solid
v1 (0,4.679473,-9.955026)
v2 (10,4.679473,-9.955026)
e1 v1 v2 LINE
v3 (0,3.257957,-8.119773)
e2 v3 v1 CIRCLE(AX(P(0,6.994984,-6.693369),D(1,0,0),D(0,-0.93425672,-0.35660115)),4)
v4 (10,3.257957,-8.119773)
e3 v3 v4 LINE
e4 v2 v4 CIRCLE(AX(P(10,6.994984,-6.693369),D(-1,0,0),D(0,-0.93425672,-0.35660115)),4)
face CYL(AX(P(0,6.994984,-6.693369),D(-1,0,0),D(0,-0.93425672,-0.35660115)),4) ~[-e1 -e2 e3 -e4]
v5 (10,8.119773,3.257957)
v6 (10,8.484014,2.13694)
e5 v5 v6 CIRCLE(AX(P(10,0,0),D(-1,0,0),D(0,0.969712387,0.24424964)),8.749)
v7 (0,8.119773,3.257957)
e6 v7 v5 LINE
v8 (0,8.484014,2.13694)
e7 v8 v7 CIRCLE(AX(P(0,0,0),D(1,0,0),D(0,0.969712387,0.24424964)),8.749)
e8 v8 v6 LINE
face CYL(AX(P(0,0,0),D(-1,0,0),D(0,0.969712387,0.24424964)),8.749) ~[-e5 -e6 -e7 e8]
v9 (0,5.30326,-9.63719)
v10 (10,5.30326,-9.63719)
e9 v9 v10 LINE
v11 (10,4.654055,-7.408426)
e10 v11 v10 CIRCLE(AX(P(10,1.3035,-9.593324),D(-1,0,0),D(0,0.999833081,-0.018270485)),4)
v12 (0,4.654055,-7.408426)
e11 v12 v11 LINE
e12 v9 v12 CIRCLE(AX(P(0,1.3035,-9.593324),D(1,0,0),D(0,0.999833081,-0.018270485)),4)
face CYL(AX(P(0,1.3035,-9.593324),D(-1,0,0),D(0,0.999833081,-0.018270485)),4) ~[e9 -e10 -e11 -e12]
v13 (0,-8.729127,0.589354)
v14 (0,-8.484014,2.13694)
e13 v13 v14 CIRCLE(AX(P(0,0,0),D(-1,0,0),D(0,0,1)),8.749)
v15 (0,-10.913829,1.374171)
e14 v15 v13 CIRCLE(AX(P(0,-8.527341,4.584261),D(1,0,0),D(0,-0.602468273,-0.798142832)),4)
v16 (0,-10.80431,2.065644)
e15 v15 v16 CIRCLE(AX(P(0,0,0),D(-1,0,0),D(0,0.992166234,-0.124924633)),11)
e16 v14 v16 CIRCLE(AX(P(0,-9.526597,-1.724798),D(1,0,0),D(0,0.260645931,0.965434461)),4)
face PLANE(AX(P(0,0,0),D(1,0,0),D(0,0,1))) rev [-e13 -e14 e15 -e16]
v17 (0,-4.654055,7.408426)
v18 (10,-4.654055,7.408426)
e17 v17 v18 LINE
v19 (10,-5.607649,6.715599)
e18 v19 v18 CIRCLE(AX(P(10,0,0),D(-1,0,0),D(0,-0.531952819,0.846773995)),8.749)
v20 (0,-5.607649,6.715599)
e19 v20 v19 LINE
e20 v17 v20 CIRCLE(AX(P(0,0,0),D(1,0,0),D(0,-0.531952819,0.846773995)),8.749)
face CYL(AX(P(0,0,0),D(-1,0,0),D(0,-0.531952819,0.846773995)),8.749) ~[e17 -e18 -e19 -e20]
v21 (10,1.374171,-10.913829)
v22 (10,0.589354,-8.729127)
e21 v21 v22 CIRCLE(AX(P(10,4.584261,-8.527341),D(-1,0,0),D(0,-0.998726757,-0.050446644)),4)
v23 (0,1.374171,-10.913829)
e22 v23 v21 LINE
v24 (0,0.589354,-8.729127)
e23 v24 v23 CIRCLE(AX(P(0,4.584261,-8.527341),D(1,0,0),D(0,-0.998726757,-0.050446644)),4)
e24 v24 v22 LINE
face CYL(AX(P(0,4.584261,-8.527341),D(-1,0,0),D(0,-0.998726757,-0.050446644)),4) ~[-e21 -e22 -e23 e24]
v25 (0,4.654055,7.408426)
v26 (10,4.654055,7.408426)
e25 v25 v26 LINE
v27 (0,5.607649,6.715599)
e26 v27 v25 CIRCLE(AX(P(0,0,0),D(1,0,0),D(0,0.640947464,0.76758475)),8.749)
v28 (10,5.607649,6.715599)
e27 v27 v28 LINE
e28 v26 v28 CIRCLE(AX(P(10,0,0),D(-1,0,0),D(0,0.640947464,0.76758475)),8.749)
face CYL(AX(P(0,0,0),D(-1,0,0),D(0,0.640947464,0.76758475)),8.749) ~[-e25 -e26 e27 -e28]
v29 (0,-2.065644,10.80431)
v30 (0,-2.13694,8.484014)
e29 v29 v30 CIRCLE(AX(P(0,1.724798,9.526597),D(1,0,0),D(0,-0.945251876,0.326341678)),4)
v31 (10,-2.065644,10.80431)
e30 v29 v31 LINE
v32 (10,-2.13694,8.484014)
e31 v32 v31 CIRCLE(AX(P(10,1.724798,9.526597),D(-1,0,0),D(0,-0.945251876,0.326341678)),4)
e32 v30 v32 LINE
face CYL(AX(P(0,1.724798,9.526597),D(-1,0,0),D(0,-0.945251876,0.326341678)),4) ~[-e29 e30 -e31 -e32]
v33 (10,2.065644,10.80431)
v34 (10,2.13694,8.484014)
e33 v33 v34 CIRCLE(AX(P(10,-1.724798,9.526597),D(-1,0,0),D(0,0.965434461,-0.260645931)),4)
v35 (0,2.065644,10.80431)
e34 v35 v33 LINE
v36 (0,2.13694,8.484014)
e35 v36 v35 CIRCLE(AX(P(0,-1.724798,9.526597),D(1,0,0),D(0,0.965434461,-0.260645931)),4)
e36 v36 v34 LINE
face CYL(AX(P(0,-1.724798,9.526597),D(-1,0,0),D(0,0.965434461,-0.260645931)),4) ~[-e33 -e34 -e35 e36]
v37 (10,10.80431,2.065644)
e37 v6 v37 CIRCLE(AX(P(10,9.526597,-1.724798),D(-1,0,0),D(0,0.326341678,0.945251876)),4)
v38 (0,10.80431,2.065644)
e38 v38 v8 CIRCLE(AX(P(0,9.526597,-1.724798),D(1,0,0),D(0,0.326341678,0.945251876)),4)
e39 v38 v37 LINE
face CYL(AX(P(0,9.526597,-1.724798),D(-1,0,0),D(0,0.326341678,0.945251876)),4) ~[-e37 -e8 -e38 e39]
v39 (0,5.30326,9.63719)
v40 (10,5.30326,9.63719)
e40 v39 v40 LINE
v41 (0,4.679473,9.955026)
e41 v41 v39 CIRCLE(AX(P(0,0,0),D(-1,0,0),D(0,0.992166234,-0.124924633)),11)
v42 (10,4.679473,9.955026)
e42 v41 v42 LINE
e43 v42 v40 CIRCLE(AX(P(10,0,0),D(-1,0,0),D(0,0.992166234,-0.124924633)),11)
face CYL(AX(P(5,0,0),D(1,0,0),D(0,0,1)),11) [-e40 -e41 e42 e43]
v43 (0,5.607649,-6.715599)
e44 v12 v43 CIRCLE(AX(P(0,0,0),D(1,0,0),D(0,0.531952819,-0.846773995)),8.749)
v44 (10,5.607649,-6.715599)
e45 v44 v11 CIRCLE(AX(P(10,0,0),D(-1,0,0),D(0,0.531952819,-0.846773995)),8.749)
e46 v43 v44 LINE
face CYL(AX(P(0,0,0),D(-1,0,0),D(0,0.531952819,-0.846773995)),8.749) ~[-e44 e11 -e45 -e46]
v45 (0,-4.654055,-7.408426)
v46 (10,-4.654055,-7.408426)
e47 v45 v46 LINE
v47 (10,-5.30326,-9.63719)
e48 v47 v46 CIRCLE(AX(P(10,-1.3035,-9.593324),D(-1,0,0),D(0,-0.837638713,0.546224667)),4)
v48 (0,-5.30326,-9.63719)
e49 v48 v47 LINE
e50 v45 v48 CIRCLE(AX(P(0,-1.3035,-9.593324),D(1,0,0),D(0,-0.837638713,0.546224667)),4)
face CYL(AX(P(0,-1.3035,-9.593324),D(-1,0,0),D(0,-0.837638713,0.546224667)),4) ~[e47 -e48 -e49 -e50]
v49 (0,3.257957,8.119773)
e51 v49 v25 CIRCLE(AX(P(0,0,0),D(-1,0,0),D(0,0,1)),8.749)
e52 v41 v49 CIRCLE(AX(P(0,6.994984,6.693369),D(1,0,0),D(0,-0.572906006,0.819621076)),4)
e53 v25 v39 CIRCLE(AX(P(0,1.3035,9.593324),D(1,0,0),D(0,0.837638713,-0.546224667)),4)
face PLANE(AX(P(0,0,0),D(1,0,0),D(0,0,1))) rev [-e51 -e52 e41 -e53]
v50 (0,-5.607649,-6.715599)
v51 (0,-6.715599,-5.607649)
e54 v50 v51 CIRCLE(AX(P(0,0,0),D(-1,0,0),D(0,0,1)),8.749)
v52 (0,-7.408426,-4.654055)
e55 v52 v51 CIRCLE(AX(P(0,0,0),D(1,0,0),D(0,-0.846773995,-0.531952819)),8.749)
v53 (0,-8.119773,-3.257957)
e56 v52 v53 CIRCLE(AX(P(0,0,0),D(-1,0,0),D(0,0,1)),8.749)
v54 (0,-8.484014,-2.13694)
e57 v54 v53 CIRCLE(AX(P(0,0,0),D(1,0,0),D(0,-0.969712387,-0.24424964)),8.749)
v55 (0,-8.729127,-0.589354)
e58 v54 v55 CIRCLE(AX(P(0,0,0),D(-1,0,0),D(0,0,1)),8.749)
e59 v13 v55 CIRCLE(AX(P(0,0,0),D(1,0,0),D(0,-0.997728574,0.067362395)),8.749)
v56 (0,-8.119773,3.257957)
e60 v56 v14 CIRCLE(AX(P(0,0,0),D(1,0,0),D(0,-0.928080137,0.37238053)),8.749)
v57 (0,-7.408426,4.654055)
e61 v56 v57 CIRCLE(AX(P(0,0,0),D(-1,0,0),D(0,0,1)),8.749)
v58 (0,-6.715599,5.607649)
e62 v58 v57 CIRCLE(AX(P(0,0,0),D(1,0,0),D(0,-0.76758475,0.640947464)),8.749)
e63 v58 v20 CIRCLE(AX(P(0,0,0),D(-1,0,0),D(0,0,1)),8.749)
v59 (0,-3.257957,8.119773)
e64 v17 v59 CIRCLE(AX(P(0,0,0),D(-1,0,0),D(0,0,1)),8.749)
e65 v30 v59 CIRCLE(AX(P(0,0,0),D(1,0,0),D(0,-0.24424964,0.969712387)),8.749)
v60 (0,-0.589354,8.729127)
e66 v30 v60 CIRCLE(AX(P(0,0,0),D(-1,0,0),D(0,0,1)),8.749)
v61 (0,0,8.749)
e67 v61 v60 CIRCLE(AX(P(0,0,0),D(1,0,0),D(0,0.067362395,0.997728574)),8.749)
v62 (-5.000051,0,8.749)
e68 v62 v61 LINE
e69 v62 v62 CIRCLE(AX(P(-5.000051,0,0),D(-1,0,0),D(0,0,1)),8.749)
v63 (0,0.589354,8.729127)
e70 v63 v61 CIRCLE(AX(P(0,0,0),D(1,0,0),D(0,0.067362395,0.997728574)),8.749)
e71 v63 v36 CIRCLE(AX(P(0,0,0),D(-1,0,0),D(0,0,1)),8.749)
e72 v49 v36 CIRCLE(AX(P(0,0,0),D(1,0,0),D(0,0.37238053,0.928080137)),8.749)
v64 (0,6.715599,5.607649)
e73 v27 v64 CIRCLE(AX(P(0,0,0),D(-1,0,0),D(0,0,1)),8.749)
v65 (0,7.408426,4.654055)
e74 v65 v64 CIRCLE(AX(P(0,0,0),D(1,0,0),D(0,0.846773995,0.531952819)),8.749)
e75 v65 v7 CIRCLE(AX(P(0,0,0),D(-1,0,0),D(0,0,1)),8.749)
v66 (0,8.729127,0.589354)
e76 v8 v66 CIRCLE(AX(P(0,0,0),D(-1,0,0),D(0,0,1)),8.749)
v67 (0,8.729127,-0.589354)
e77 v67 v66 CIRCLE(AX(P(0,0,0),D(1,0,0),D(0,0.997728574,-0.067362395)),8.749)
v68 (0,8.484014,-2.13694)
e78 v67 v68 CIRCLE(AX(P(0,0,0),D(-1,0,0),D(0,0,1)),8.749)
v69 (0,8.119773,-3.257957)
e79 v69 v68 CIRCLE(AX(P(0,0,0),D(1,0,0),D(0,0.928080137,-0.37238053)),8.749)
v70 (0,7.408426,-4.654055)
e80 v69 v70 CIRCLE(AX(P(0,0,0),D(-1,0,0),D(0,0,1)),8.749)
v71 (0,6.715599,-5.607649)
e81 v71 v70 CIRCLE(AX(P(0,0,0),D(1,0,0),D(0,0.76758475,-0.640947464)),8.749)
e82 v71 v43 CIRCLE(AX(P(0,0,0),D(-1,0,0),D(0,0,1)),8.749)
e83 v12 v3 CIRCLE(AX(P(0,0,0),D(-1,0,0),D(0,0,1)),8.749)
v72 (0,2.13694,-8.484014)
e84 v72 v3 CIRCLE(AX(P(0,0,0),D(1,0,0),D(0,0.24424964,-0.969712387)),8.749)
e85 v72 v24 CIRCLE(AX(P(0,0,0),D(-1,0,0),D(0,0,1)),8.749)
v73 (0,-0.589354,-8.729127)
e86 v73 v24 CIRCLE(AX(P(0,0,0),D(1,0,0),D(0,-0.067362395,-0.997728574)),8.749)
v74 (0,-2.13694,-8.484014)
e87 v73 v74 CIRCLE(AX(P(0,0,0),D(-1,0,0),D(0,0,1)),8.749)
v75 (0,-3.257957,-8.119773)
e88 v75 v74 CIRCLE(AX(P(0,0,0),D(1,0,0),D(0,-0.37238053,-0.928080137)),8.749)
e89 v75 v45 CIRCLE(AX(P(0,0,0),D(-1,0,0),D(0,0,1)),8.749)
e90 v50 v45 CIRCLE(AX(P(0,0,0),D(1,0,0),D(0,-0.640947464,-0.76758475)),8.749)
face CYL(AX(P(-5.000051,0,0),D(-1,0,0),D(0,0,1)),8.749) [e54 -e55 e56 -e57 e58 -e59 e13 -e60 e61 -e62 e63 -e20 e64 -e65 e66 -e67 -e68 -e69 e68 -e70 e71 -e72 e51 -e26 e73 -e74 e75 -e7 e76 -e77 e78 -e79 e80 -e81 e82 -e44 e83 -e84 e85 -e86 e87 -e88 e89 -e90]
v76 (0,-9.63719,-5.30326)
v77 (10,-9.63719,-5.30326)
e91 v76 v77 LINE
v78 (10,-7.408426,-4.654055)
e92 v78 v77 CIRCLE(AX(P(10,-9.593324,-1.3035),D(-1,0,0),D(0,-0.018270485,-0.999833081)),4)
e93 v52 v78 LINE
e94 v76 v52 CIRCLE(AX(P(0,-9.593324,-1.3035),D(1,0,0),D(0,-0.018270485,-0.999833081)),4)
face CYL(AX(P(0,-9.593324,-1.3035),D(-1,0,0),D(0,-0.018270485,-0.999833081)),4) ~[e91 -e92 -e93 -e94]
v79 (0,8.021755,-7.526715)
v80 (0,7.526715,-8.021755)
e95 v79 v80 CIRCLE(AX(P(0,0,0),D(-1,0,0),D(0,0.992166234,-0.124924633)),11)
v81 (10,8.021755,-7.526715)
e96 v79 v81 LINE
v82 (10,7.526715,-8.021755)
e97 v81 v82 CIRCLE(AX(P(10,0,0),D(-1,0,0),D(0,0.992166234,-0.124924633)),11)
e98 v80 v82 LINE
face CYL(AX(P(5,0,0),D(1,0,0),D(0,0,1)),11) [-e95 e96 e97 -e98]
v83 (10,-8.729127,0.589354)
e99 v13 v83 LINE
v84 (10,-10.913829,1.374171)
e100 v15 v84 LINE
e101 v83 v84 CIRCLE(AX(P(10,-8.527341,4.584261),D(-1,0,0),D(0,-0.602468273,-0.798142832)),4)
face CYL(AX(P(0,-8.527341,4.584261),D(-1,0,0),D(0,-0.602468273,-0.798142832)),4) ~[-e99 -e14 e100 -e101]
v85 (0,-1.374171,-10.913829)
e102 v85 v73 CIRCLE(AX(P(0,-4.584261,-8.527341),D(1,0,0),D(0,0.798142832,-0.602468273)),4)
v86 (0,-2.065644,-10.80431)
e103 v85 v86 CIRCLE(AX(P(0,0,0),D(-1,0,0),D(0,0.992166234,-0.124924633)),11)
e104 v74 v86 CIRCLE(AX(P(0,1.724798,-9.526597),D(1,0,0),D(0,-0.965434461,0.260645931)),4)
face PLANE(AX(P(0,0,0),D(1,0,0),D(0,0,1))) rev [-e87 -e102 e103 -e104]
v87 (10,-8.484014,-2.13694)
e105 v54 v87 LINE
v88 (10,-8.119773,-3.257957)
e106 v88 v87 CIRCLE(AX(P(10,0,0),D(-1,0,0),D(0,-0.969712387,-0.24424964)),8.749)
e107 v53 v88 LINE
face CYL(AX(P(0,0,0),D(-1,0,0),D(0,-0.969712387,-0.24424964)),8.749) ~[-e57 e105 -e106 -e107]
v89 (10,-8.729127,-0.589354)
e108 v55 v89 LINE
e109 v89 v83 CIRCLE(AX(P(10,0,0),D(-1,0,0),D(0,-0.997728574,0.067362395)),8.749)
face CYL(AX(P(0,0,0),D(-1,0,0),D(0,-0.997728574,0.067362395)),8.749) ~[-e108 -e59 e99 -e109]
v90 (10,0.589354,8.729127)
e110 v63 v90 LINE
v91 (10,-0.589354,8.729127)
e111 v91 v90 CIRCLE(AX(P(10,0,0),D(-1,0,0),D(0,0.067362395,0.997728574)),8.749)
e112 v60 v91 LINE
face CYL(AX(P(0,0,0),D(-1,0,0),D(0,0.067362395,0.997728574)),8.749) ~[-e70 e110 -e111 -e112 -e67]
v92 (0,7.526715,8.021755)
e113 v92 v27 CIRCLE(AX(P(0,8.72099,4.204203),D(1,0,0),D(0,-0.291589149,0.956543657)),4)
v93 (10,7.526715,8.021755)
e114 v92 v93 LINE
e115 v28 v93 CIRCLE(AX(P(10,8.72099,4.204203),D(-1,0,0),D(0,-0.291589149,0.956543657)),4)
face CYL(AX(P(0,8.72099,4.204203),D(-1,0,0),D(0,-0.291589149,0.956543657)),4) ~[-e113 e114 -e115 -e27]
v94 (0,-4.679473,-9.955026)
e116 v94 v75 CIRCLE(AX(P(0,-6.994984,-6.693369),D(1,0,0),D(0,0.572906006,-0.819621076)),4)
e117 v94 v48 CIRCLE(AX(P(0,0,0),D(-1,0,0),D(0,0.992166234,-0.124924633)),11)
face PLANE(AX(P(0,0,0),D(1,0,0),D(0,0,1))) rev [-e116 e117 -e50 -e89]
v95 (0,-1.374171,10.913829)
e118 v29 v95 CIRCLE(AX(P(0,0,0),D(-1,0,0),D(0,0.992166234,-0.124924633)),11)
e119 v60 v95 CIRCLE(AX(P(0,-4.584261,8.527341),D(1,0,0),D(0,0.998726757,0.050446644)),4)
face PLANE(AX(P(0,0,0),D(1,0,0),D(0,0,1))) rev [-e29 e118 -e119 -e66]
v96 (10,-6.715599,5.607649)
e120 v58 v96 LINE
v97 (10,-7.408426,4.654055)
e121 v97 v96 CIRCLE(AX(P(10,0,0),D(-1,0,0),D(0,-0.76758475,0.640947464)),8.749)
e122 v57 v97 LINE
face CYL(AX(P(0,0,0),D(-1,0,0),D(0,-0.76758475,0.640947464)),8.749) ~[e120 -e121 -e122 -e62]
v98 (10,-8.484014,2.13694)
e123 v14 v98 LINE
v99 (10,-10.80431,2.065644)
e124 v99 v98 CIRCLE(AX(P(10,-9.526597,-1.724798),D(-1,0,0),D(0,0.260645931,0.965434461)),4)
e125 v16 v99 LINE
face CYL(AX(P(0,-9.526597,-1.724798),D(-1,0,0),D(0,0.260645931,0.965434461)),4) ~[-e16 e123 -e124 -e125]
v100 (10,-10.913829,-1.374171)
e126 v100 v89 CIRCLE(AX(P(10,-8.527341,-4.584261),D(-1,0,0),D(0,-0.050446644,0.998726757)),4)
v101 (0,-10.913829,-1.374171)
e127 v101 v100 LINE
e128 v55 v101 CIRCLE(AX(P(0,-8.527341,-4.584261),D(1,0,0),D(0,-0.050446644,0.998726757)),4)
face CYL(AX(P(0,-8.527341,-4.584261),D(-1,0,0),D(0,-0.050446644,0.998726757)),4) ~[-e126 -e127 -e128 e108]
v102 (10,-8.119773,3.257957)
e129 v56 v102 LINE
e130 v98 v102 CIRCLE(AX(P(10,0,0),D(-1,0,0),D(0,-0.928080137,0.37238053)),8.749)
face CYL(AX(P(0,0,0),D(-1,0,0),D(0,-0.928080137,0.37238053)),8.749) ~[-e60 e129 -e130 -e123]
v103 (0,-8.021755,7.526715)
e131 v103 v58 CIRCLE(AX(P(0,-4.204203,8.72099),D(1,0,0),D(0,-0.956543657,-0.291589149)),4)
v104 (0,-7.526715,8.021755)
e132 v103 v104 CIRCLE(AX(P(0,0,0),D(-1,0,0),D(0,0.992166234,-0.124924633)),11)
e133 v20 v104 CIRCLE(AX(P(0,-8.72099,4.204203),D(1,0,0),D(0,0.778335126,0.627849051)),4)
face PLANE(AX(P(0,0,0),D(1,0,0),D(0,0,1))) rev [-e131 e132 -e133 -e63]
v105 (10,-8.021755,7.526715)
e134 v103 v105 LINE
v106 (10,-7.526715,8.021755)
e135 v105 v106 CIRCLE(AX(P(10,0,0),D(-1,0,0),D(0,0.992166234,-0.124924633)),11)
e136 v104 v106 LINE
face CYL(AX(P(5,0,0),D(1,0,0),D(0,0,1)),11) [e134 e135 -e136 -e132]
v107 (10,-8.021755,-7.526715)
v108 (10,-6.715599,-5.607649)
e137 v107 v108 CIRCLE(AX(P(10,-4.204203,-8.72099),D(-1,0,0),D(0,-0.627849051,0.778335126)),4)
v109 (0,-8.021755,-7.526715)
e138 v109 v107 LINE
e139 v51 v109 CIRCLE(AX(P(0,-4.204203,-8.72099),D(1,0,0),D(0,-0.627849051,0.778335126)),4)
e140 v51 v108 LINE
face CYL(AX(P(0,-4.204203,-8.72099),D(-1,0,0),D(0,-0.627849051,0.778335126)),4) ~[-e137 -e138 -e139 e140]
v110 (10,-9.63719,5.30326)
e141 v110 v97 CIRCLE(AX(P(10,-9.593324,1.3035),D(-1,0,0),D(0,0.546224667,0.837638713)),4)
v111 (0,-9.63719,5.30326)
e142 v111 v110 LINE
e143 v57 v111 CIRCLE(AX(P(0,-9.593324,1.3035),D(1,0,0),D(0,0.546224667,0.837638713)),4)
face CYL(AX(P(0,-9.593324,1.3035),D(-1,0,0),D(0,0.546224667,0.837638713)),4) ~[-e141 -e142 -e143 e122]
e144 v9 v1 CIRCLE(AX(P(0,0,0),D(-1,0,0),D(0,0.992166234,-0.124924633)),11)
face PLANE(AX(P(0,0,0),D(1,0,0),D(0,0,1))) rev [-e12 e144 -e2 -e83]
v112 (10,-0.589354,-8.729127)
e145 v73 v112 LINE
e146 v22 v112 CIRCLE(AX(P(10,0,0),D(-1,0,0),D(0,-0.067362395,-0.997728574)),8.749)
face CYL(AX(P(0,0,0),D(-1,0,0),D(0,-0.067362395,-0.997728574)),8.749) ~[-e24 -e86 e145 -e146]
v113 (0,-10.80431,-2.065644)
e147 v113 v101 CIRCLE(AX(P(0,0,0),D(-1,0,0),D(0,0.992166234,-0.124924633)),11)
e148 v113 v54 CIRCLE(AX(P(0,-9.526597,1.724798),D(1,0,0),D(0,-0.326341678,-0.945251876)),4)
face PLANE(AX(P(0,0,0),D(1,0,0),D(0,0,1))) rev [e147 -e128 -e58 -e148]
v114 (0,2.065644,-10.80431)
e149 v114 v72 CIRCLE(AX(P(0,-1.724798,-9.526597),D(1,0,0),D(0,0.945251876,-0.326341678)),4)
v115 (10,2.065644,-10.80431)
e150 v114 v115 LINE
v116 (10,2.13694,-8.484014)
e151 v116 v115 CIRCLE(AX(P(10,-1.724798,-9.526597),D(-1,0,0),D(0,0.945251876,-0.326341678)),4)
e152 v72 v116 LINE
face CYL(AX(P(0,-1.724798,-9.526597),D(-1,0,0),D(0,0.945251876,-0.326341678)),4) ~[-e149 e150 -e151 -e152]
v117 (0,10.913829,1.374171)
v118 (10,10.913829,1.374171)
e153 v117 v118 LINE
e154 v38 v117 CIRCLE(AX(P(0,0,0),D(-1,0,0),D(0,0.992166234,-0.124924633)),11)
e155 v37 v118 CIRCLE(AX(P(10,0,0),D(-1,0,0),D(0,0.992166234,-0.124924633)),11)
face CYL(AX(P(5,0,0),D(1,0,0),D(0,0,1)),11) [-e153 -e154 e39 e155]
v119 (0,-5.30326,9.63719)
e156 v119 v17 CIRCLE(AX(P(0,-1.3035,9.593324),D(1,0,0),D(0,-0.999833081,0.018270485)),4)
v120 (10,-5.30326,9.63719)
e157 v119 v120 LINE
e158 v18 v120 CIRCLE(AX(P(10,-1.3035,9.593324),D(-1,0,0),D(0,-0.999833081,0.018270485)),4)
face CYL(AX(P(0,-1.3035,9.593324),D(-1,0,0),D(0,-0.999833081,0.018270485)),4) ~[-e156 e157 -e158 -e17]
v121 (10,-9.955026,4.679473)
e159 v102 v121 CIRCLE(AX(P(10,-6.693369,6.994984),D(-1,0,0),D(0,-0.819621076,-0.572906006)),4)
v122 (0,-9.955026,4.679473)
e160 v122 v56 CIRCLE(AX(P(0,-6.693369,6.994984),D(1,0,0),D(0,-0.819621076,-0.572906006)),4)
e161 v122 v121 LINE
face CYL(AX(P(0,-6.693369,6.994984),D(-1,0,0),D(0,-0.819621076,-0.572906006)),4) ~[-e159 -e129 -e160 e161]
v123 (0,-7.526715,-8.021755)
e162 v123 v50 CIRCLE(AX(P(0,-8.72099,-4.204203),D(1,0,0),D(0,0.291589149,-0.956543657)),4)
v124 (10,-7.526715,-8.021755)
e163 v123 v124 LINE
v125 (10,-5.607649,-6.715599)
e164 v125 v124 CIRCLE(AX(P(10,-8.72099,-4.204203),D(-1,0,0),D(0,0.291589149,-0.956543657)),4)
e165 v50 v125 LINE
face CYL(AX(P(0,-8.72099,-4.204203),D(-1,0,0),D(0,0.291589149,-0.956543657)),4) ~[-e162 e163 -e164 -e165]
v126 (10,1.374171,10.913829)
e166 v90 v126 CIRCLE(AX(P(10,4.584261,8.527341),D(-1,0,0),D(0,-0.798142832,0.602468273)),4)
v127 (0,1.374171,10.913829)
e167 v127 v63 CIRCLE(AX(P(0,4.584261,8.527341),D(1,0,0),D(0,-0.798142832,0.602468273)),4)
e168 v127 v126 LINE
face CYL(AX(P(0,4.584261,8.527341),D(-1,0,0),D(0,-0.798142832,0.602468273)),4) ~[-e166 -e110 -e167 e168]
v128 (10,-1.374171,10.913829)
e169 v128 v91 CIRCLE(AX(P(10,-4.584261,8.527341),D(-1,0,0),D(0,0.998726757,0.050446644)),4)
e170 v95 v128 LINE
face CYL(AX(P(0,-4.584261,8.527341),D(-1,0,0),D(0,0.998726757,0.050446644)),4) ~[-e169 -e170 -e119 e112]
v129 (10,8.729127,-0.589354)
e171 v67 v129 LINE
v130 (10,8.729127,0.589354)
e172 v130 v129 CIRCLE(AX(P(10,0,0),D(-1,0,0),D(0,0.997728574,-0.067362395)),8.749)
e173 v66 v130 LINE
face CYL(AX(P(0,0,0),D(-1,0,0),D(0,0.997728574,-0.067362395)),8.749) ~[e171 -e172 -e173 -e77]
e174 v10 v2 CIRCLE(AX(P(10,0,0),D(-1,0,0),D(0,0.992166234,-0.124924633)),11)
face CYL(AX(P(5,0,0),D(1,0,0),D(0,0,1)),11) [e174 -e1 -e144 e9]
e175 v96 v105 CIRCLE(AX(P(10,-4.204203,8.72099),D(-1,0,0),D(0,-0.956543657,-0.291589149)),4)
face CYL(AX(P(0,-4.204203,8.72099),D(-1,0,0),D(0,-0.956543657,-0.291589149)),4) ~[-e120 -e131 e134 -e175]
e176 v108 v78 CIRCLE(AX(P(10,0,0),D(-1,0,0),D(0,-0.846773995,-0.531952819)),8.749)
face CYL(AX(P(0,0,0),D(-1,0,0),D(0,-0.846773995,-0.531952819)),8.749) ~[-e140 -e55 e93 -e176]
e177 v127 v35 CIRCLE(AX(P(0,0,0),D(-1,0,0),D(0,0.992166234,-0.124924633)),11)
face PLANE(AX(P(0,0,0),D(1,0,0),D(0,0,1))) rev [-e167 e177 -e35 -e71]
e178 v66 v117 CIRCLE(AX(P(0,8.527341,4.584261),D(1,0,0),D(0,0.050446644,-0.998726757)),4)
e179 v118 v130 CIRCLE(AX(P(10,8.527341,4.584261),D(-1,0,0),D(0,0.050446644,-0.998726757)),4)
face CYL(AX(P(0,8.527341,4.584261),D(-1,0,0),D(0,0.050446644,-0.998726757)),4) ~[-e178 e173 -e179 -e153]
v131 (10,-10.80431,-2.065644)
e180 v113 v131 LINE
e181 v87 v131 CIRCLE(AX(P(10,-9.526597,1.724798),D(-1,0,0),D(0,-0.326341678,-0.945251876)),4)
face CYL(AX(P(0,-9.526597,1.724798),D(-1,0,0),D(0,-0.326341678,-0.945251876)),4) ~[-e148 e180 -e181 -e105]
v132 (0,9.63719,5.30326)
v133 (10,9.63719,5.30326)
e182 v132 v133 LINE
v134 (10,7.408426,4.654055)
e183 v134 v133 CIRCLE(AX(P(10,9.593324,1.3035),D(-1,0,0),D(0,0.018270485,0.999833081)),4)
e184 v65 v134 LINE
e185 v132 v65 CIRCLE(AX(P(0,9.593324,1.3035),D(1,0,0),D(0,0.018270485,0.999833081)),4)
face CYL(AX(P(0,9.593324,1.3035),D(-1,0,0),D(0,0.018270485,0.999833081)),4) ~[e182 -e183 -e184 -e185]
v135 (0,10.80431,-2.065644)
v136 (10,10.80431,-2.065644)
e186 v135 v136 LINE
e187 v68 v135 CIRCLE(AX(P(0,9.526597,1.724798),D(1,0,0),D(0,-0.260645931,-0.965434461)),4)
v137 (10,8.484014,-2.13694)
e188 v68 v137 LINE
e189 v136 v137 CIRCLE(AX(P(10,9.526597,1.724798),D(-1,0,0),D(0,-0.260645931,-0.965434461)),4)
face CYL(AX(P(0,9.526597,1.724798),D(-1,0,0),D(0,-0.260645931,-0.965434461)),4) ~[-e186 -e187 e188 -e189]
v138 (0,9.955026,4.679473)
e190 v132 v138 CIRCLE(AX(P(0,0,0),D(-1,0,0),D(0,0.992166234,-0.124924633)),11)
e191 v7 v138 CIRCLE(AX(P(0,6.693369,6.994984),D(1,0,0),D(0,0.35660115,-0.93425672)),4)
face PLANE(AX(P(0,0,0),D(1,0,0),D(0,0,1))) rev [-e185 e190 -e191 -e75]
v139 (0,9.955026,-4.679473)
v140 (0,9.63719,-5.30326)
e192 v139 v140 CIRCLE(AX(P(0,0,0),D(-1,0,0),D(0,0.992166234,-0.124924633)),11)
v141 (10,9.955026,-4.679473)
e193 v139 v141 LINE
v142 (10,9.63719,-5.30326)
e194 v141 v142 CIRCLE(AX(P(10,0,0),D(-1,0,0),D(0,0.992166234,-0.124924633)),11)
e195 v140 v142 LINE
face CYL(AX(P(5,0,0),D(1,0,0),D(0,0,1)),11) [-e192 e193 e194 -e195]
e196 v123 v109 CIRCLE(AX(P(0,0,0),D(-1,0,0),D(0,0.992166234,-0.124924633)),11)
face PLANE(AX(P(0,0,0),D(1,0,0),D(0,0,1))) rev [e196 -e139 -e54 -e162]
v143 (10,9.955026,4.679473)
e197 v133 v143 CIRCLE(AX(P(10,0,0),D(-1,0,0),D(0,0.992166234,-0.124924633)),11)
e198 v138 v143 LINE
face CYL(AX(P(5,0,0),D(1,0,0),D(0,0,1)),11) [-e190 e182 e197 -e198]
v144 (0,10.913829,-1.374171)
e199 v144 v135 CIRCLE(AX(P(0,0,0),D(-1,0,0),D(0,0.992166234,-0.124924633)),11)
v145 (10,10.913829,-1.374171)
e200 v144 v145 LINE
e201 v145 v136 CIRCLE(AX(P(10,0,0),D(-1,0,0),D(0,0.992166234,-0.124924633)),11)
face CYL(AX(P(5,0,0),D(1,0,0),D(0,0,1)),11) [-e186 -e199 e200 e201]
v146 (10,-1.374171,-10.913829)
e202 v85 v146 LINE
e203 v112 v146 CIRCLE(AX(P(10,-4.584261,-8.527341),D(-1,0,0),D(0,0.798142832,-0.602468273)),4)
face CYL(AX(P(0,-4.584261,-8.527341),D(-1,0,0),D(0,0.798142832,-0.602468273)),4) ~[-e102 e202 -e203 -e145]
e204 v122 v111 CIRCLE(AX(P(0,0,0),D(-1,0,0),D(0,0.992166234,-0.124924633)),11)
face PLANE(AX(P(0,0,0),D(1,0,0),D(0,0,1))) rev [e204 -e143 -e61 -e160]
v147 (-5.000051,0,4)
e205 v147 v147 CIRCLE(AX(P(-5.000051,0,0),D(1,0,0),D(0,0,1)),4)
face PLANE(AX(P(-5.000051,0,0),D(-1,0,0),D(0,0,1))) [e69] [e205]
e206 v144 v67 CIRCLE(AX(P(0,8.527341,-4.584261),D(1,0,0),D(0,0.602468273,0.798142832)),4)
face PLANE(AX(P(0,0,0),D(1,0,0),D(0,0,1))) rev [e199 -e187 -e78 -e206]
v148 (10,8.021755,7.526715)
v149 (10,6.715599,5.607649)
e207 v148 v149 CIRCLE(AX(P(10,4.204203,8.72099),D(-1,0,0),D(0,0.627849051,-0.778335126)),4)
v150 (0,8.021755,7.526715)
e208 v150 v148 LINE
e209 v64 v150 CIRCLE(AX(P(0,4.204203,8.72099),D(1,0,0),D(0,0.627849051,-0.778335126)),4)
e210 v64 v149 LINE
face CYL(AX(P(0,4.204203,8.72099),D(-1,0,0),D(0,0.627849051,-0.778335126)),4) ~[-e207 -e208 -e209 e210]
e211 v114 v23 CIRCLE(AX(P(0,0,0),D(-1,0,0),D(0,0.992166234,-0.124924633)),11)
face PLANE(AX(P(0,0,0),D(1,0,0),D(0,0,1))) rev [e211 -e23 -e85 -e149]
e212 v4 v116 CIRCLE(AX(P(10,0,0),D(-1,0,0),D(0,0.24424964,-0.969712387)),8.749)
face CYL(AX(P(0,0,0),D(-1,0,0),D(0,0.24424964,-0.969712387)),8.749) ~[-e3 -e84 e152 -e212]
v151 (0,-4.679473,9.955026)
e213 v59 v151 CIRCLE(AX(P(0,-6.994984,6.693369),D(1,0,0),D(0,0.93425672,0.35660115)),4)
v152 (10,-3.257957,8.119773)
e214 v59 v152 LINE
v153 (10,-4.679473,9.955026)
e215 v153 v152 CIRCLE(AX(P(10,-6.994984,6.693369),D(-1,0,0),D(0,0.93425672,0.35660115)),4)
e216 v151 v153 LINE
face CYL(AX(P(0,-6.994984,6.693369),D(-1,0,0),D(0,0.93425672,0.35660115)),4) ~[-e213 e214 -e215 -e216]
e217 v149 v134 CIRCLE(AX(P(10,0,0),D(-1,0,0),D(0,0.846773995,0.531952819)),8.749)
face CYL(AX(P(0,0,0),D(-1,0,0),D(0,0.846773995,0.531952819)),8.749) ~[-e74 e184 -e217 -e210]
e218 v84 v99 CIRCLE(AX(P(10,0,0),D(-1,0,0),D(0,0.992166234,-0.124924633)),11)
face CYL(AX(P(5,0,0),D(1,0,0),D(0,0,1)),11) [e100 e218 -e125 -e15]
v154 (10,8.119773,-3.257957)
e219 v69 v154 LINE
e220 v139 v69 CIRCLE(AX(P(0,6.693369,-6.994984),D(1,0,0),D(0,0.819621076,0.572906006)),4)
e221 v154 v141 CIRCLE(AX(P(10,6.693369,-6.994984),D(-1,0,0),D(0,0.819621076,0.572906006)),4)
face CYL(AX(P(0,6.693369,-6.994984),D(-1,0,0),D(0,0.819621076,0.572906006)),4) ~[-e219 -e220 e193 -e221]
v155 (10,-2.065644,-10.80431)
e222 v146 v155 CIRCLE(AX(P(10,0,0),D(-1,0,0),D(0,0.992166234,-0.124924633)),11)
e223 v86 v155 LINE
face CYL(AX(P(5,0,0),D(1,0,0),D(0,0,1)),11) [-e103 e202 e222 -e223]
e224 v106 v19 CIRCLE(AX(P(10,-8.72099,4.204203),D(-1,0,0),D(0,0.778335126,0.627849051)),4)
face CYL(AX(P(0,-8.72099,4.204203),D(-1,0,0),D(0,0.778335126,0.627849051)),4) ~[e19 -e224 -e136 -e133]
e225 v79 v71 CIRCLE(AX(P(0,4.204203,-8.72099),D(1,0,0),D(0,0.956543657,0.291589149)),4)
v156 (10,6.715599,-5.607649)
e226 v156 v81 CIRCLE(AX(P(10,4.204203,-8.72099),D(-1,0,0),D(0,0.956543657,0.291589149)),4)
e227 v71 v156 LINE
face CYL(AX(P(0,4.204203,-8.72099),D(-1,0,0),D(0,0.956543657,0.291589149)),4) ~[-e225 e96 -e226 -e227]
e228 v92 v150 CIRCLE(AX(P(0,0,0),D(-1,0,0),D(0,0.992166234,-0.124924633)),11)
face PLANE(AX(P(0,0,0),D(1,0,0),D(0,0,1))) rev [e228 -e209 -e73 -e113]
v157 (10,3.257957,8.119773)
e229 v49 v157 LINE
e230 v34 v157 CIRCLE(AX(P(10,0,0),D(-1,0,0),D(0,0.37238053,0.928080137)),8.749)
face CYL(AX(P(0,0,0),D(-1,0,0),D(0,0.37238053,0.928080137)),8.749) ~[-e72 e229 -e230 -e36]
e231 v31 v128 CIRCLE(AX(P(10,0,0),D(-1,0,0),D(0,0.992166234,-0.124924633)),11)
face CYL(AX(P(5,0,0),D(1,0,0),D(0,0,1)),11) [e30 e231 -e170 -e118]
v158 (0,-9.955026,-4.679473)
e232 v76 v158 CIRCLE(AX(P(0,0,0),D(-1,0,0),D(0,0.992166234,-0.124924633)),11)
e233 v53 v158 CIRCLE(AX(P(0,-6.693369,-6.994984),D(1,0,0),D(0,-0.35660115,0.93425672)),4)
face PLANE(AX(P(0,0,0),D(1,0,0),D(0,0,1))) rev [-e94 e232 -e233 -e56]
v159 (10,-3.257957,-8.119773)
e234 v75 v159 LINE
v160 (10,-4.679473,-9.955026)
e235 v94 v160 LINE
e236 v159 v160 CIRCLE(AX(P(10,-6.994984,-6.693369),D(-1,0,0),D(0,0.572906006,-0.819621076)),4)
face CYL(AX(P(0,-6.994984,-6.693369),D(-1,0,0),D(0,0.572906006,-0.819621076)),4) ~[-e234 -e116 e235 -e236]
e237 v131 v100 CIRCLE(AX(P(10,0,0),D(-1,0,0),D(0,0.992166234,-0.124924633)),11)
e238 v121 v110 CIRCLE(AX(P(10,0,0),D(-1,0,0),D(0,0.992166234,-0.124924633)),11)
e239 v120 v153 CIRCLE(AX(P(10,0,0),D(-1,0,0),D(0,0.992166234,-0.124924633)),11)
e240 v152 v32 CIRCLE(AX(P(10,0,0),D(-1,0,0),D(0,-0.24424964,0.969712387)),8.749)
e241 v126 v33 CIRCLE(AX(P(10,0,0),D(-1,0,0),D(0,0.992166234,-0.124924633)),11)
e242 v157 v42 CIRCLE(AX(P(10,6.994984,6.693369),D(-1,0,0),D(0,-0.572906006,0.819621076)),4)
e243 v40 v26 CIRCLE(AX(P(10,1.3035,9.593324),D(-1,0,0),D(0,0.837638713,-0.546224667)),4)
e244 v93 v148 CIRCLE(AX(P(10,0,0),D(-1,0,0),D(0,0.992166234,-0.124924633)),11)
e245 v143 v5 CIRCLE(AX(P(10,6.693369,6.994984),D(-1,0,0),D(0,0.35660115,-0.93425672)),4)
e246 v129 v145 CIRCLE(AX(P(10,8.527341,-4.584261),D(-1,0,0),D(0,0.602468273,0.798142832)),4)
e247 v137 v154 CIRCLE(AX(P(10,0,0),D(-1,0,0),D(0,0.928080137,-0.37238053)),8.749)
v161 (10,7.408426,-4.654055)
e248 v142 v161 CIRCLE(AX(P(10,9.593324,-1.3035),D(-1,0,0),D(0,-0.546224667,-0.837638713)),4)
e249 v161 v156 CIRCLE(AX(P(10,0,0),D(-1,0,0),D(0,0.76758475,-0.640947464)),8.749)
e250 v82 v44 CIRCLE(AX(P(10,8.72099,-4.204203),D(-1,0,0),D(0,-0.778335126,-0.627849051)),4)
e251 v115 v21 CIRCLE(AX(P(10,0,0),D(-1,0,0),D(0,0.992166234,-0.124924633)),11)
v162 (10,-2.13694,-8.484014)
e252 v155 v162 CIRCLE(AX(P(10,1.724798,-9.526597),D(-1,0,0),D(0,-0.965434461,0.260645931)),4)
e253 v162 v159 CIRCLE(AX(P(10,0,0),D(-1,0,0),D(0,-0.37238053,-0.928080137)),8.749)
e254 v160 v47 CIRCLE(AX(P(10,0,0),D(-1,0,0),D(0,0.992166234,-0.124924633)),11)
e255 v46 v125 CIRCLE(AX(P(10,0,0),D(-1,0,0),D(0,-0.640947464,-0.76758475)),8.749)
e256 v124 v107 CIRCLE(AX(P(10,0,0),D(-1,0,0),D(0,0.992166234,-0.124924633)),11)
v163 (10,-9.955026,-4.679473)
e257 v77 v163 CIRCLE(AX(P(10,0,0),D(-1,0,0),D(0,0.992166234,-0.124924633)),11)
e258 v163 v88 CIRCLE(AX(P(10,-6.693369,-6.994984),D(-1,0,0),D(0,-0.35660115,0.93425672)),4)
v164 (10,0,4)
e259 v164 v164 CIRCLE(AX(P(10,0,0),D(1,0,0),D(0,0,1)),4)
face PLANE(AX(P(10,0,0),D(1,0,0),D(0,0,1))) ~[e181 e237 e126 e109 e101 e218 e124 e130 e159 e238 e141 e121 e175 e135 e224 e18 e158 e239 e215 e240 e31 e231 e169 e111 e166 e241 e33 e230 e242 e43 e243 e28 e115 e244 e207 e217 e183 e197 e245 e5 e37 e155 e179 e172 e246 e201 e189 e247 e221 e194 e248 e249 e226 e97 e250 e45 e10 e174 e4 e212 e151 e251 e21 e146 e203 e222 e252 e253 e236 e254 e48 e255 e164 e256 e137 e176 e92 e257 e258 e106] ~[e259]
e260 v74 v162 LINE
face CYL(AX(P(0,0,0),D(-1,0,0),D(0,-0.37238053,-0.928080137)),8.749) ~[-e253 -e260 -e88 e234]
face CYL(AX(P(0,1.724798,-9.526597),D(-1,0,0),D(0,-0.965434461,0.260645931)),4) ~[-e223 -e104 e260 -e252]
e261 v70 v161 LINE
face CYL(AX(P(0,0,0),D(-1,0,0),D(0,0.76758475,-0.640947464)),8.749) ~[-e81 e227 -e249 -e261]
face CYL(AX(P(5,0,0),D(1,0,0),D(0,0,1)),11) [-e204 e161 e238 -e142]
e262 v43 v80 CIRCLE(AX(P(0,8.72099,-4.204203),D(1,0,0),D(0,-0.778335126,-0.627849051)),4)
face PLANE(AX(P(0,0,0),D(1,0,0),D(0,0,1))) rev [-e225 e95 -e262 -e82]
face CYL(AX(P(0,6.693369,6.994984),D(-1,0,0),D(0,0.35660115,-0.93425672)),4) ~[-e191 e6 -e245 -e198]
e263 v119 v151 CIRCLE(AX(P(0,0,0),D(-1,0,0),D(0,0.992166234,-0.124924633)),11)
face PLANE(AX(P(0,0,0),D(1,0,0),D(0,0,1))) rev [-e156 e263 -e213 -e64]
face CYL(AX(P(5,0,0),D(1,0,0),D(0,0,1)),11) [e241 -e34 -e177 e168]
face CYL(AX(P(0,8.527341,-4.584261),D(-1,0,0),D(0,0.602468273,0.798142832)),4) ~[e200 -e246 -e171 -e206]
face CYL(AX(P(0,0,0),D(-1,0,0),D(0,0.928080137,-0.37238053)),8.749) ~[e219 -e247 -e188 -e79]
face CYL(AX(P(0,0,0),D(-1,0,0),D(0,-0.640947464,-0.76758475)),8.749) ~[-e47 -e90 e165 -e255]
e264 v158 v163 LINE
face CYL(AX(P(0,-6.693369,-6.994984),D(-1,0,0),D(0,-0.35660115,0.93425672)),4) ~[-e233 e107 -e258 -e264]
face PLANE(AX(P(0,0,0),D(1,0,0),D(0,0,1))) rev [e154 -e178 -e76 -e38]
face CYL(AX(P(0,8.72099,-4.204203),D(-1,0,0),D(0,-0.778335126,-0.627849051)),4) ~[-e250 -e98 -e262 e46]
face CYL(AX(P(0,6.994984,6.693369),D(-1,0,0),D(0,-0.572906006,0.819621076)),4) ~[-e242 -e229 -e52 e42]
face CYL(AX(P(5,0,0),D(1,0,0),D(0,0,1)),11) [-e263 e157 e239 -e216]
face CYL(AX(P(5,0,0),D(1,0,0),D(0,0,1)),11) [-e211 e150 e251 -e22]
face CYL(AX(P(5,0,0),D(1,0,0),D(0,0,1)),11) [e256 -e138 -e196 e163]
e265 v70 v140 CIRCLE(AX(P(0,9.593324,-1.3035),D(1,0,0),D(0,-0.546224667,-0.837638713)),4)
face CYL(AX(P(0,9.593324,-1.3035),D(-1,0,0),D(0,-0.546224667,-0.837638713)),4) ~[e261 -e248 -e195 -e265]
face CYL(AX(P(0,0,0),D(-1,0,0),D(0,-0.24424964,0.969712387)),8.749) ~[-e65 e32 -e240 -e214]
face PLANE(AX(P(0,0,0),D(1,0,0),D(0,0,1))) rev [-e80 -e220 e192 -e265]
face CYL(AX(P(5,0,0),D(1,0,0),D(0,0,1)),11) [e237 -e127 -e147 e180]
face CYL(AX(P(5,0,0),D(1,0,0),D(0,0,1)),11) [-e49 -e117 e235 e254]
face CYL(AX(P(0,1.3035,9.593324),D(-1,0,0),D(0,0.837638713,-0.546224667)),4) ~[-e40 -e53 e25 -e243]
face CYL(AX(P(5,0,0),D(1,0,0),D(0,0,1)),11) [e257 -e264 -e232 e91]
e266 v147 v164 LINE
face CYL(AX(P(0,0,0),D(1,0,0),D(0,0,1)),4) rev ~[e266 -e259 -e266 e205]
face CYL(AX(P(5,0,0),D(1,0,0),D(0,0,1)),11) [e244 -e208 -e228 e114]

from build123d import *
from build123d.topology import SkipClean

# Parameters (mm, degrees)
BASPROSKE_W      = 10
BASPROSKE_H      = 11
TOOTHCUT_DEPTH   = 19.493242009
TEETHCUTS_COUNT  = 20
TEETHCUTS_ANGLE  = 342
HUBNEARONE_START = 5.000051
HUBNEAONESKE_R   = 8.749
HUBNEARONE_DEPTH = 5.000051
BORSKE_R         = 4
BORE_DEPTH       = 15.0000508


with BuildPart() as part:
    # BasProSke → Base-Revolve (revolve)
    with BuildSketch(Plane(origin=(0, 0, 0), x_dir=(1, 0, 0), z_dir=(0, 1, 0)), mode=Mode.PRIVATE) as base_revolve_sk:
        with Locations((5, 5.5)):
            Rectangle(BASPROSKE_W, BASPROSKE_H)
    revolve(base_revolve_sk.sketch.rotate(Axis((-10, 0, 0), (1, 0, 0)), 180), axis=Axis((-10, 0, 0), (1, 0, 0)))

    # TooCutSke → ToothCut (cut, through all)
    with BuildSketch(Plane(origin=(0, 0, 0), x_dir=(0, 0, -1), z_dir=(1, 0, 0))):
        with BuildLine():
            ThreePointArc((0.589353609, 8.729127295), (0, 8.749), (-0.589353609, 8.729127295))
            ThreePointArc((-0.589353609, 8.729127295), (-0.82475631, 9.893403384), (-1.391689312, 10.937213814))
            ThreePointArc((-1.391689312, 10.937213814), (0, 11.0254), (1.391689312, 10.937213814))
            ThreePointArc((1.391689312, 10.937213814), (0.82475631, 9.893403384), (0.589353609, 8.729127295))
        make_face()
    toothcut = extrude(amount=TOOTHCUT_DEPTH, mode=Mode.SUBTRACT)

    # TeethCuts: ToothCut ×20 about axis
    teethcuts_axis = Axis((-10, 0, 0), (1, 0, 0))
    for i in range(1, TEETHCUTS_COUNT):
        add(toothcut.rotate(teethcuts_axis, i * TEETHCUTS_ANGLE / (TEETHCUTS_COUNT - 1)), mode=Mode.SUBTRACT)

    # HubNeaOneSke → HubNearOne (add)
    with SkipClean():  # the faces are left unmerged after this step: merging them gives an invalid solid
        with BuildSketch(Plane.ZY.offset(HUBNEARONE_START)):
            Circle(HUBNEAONESKE_R)
        extrude(amount=-HUBNEARONE_DEPTH)

    # BorSke → Bore (cut, symmetric)
    with SkipClean():  # the faces are left unmerged after this step: merging them gives an invalid solid
        with BuildSketch(Plane(origin=(0, 0, 0), x_dir=(0, 0, -1), z_dir=(1, 0, 0))):
            with Locations(Location((0, 0, 0), (0, 0, 180))):
                Circle(BORSKE_R)
        extrude(amount=BORE_DEPTH, both=True, mode=Mode.SUBTRACT)


solid = part.part
